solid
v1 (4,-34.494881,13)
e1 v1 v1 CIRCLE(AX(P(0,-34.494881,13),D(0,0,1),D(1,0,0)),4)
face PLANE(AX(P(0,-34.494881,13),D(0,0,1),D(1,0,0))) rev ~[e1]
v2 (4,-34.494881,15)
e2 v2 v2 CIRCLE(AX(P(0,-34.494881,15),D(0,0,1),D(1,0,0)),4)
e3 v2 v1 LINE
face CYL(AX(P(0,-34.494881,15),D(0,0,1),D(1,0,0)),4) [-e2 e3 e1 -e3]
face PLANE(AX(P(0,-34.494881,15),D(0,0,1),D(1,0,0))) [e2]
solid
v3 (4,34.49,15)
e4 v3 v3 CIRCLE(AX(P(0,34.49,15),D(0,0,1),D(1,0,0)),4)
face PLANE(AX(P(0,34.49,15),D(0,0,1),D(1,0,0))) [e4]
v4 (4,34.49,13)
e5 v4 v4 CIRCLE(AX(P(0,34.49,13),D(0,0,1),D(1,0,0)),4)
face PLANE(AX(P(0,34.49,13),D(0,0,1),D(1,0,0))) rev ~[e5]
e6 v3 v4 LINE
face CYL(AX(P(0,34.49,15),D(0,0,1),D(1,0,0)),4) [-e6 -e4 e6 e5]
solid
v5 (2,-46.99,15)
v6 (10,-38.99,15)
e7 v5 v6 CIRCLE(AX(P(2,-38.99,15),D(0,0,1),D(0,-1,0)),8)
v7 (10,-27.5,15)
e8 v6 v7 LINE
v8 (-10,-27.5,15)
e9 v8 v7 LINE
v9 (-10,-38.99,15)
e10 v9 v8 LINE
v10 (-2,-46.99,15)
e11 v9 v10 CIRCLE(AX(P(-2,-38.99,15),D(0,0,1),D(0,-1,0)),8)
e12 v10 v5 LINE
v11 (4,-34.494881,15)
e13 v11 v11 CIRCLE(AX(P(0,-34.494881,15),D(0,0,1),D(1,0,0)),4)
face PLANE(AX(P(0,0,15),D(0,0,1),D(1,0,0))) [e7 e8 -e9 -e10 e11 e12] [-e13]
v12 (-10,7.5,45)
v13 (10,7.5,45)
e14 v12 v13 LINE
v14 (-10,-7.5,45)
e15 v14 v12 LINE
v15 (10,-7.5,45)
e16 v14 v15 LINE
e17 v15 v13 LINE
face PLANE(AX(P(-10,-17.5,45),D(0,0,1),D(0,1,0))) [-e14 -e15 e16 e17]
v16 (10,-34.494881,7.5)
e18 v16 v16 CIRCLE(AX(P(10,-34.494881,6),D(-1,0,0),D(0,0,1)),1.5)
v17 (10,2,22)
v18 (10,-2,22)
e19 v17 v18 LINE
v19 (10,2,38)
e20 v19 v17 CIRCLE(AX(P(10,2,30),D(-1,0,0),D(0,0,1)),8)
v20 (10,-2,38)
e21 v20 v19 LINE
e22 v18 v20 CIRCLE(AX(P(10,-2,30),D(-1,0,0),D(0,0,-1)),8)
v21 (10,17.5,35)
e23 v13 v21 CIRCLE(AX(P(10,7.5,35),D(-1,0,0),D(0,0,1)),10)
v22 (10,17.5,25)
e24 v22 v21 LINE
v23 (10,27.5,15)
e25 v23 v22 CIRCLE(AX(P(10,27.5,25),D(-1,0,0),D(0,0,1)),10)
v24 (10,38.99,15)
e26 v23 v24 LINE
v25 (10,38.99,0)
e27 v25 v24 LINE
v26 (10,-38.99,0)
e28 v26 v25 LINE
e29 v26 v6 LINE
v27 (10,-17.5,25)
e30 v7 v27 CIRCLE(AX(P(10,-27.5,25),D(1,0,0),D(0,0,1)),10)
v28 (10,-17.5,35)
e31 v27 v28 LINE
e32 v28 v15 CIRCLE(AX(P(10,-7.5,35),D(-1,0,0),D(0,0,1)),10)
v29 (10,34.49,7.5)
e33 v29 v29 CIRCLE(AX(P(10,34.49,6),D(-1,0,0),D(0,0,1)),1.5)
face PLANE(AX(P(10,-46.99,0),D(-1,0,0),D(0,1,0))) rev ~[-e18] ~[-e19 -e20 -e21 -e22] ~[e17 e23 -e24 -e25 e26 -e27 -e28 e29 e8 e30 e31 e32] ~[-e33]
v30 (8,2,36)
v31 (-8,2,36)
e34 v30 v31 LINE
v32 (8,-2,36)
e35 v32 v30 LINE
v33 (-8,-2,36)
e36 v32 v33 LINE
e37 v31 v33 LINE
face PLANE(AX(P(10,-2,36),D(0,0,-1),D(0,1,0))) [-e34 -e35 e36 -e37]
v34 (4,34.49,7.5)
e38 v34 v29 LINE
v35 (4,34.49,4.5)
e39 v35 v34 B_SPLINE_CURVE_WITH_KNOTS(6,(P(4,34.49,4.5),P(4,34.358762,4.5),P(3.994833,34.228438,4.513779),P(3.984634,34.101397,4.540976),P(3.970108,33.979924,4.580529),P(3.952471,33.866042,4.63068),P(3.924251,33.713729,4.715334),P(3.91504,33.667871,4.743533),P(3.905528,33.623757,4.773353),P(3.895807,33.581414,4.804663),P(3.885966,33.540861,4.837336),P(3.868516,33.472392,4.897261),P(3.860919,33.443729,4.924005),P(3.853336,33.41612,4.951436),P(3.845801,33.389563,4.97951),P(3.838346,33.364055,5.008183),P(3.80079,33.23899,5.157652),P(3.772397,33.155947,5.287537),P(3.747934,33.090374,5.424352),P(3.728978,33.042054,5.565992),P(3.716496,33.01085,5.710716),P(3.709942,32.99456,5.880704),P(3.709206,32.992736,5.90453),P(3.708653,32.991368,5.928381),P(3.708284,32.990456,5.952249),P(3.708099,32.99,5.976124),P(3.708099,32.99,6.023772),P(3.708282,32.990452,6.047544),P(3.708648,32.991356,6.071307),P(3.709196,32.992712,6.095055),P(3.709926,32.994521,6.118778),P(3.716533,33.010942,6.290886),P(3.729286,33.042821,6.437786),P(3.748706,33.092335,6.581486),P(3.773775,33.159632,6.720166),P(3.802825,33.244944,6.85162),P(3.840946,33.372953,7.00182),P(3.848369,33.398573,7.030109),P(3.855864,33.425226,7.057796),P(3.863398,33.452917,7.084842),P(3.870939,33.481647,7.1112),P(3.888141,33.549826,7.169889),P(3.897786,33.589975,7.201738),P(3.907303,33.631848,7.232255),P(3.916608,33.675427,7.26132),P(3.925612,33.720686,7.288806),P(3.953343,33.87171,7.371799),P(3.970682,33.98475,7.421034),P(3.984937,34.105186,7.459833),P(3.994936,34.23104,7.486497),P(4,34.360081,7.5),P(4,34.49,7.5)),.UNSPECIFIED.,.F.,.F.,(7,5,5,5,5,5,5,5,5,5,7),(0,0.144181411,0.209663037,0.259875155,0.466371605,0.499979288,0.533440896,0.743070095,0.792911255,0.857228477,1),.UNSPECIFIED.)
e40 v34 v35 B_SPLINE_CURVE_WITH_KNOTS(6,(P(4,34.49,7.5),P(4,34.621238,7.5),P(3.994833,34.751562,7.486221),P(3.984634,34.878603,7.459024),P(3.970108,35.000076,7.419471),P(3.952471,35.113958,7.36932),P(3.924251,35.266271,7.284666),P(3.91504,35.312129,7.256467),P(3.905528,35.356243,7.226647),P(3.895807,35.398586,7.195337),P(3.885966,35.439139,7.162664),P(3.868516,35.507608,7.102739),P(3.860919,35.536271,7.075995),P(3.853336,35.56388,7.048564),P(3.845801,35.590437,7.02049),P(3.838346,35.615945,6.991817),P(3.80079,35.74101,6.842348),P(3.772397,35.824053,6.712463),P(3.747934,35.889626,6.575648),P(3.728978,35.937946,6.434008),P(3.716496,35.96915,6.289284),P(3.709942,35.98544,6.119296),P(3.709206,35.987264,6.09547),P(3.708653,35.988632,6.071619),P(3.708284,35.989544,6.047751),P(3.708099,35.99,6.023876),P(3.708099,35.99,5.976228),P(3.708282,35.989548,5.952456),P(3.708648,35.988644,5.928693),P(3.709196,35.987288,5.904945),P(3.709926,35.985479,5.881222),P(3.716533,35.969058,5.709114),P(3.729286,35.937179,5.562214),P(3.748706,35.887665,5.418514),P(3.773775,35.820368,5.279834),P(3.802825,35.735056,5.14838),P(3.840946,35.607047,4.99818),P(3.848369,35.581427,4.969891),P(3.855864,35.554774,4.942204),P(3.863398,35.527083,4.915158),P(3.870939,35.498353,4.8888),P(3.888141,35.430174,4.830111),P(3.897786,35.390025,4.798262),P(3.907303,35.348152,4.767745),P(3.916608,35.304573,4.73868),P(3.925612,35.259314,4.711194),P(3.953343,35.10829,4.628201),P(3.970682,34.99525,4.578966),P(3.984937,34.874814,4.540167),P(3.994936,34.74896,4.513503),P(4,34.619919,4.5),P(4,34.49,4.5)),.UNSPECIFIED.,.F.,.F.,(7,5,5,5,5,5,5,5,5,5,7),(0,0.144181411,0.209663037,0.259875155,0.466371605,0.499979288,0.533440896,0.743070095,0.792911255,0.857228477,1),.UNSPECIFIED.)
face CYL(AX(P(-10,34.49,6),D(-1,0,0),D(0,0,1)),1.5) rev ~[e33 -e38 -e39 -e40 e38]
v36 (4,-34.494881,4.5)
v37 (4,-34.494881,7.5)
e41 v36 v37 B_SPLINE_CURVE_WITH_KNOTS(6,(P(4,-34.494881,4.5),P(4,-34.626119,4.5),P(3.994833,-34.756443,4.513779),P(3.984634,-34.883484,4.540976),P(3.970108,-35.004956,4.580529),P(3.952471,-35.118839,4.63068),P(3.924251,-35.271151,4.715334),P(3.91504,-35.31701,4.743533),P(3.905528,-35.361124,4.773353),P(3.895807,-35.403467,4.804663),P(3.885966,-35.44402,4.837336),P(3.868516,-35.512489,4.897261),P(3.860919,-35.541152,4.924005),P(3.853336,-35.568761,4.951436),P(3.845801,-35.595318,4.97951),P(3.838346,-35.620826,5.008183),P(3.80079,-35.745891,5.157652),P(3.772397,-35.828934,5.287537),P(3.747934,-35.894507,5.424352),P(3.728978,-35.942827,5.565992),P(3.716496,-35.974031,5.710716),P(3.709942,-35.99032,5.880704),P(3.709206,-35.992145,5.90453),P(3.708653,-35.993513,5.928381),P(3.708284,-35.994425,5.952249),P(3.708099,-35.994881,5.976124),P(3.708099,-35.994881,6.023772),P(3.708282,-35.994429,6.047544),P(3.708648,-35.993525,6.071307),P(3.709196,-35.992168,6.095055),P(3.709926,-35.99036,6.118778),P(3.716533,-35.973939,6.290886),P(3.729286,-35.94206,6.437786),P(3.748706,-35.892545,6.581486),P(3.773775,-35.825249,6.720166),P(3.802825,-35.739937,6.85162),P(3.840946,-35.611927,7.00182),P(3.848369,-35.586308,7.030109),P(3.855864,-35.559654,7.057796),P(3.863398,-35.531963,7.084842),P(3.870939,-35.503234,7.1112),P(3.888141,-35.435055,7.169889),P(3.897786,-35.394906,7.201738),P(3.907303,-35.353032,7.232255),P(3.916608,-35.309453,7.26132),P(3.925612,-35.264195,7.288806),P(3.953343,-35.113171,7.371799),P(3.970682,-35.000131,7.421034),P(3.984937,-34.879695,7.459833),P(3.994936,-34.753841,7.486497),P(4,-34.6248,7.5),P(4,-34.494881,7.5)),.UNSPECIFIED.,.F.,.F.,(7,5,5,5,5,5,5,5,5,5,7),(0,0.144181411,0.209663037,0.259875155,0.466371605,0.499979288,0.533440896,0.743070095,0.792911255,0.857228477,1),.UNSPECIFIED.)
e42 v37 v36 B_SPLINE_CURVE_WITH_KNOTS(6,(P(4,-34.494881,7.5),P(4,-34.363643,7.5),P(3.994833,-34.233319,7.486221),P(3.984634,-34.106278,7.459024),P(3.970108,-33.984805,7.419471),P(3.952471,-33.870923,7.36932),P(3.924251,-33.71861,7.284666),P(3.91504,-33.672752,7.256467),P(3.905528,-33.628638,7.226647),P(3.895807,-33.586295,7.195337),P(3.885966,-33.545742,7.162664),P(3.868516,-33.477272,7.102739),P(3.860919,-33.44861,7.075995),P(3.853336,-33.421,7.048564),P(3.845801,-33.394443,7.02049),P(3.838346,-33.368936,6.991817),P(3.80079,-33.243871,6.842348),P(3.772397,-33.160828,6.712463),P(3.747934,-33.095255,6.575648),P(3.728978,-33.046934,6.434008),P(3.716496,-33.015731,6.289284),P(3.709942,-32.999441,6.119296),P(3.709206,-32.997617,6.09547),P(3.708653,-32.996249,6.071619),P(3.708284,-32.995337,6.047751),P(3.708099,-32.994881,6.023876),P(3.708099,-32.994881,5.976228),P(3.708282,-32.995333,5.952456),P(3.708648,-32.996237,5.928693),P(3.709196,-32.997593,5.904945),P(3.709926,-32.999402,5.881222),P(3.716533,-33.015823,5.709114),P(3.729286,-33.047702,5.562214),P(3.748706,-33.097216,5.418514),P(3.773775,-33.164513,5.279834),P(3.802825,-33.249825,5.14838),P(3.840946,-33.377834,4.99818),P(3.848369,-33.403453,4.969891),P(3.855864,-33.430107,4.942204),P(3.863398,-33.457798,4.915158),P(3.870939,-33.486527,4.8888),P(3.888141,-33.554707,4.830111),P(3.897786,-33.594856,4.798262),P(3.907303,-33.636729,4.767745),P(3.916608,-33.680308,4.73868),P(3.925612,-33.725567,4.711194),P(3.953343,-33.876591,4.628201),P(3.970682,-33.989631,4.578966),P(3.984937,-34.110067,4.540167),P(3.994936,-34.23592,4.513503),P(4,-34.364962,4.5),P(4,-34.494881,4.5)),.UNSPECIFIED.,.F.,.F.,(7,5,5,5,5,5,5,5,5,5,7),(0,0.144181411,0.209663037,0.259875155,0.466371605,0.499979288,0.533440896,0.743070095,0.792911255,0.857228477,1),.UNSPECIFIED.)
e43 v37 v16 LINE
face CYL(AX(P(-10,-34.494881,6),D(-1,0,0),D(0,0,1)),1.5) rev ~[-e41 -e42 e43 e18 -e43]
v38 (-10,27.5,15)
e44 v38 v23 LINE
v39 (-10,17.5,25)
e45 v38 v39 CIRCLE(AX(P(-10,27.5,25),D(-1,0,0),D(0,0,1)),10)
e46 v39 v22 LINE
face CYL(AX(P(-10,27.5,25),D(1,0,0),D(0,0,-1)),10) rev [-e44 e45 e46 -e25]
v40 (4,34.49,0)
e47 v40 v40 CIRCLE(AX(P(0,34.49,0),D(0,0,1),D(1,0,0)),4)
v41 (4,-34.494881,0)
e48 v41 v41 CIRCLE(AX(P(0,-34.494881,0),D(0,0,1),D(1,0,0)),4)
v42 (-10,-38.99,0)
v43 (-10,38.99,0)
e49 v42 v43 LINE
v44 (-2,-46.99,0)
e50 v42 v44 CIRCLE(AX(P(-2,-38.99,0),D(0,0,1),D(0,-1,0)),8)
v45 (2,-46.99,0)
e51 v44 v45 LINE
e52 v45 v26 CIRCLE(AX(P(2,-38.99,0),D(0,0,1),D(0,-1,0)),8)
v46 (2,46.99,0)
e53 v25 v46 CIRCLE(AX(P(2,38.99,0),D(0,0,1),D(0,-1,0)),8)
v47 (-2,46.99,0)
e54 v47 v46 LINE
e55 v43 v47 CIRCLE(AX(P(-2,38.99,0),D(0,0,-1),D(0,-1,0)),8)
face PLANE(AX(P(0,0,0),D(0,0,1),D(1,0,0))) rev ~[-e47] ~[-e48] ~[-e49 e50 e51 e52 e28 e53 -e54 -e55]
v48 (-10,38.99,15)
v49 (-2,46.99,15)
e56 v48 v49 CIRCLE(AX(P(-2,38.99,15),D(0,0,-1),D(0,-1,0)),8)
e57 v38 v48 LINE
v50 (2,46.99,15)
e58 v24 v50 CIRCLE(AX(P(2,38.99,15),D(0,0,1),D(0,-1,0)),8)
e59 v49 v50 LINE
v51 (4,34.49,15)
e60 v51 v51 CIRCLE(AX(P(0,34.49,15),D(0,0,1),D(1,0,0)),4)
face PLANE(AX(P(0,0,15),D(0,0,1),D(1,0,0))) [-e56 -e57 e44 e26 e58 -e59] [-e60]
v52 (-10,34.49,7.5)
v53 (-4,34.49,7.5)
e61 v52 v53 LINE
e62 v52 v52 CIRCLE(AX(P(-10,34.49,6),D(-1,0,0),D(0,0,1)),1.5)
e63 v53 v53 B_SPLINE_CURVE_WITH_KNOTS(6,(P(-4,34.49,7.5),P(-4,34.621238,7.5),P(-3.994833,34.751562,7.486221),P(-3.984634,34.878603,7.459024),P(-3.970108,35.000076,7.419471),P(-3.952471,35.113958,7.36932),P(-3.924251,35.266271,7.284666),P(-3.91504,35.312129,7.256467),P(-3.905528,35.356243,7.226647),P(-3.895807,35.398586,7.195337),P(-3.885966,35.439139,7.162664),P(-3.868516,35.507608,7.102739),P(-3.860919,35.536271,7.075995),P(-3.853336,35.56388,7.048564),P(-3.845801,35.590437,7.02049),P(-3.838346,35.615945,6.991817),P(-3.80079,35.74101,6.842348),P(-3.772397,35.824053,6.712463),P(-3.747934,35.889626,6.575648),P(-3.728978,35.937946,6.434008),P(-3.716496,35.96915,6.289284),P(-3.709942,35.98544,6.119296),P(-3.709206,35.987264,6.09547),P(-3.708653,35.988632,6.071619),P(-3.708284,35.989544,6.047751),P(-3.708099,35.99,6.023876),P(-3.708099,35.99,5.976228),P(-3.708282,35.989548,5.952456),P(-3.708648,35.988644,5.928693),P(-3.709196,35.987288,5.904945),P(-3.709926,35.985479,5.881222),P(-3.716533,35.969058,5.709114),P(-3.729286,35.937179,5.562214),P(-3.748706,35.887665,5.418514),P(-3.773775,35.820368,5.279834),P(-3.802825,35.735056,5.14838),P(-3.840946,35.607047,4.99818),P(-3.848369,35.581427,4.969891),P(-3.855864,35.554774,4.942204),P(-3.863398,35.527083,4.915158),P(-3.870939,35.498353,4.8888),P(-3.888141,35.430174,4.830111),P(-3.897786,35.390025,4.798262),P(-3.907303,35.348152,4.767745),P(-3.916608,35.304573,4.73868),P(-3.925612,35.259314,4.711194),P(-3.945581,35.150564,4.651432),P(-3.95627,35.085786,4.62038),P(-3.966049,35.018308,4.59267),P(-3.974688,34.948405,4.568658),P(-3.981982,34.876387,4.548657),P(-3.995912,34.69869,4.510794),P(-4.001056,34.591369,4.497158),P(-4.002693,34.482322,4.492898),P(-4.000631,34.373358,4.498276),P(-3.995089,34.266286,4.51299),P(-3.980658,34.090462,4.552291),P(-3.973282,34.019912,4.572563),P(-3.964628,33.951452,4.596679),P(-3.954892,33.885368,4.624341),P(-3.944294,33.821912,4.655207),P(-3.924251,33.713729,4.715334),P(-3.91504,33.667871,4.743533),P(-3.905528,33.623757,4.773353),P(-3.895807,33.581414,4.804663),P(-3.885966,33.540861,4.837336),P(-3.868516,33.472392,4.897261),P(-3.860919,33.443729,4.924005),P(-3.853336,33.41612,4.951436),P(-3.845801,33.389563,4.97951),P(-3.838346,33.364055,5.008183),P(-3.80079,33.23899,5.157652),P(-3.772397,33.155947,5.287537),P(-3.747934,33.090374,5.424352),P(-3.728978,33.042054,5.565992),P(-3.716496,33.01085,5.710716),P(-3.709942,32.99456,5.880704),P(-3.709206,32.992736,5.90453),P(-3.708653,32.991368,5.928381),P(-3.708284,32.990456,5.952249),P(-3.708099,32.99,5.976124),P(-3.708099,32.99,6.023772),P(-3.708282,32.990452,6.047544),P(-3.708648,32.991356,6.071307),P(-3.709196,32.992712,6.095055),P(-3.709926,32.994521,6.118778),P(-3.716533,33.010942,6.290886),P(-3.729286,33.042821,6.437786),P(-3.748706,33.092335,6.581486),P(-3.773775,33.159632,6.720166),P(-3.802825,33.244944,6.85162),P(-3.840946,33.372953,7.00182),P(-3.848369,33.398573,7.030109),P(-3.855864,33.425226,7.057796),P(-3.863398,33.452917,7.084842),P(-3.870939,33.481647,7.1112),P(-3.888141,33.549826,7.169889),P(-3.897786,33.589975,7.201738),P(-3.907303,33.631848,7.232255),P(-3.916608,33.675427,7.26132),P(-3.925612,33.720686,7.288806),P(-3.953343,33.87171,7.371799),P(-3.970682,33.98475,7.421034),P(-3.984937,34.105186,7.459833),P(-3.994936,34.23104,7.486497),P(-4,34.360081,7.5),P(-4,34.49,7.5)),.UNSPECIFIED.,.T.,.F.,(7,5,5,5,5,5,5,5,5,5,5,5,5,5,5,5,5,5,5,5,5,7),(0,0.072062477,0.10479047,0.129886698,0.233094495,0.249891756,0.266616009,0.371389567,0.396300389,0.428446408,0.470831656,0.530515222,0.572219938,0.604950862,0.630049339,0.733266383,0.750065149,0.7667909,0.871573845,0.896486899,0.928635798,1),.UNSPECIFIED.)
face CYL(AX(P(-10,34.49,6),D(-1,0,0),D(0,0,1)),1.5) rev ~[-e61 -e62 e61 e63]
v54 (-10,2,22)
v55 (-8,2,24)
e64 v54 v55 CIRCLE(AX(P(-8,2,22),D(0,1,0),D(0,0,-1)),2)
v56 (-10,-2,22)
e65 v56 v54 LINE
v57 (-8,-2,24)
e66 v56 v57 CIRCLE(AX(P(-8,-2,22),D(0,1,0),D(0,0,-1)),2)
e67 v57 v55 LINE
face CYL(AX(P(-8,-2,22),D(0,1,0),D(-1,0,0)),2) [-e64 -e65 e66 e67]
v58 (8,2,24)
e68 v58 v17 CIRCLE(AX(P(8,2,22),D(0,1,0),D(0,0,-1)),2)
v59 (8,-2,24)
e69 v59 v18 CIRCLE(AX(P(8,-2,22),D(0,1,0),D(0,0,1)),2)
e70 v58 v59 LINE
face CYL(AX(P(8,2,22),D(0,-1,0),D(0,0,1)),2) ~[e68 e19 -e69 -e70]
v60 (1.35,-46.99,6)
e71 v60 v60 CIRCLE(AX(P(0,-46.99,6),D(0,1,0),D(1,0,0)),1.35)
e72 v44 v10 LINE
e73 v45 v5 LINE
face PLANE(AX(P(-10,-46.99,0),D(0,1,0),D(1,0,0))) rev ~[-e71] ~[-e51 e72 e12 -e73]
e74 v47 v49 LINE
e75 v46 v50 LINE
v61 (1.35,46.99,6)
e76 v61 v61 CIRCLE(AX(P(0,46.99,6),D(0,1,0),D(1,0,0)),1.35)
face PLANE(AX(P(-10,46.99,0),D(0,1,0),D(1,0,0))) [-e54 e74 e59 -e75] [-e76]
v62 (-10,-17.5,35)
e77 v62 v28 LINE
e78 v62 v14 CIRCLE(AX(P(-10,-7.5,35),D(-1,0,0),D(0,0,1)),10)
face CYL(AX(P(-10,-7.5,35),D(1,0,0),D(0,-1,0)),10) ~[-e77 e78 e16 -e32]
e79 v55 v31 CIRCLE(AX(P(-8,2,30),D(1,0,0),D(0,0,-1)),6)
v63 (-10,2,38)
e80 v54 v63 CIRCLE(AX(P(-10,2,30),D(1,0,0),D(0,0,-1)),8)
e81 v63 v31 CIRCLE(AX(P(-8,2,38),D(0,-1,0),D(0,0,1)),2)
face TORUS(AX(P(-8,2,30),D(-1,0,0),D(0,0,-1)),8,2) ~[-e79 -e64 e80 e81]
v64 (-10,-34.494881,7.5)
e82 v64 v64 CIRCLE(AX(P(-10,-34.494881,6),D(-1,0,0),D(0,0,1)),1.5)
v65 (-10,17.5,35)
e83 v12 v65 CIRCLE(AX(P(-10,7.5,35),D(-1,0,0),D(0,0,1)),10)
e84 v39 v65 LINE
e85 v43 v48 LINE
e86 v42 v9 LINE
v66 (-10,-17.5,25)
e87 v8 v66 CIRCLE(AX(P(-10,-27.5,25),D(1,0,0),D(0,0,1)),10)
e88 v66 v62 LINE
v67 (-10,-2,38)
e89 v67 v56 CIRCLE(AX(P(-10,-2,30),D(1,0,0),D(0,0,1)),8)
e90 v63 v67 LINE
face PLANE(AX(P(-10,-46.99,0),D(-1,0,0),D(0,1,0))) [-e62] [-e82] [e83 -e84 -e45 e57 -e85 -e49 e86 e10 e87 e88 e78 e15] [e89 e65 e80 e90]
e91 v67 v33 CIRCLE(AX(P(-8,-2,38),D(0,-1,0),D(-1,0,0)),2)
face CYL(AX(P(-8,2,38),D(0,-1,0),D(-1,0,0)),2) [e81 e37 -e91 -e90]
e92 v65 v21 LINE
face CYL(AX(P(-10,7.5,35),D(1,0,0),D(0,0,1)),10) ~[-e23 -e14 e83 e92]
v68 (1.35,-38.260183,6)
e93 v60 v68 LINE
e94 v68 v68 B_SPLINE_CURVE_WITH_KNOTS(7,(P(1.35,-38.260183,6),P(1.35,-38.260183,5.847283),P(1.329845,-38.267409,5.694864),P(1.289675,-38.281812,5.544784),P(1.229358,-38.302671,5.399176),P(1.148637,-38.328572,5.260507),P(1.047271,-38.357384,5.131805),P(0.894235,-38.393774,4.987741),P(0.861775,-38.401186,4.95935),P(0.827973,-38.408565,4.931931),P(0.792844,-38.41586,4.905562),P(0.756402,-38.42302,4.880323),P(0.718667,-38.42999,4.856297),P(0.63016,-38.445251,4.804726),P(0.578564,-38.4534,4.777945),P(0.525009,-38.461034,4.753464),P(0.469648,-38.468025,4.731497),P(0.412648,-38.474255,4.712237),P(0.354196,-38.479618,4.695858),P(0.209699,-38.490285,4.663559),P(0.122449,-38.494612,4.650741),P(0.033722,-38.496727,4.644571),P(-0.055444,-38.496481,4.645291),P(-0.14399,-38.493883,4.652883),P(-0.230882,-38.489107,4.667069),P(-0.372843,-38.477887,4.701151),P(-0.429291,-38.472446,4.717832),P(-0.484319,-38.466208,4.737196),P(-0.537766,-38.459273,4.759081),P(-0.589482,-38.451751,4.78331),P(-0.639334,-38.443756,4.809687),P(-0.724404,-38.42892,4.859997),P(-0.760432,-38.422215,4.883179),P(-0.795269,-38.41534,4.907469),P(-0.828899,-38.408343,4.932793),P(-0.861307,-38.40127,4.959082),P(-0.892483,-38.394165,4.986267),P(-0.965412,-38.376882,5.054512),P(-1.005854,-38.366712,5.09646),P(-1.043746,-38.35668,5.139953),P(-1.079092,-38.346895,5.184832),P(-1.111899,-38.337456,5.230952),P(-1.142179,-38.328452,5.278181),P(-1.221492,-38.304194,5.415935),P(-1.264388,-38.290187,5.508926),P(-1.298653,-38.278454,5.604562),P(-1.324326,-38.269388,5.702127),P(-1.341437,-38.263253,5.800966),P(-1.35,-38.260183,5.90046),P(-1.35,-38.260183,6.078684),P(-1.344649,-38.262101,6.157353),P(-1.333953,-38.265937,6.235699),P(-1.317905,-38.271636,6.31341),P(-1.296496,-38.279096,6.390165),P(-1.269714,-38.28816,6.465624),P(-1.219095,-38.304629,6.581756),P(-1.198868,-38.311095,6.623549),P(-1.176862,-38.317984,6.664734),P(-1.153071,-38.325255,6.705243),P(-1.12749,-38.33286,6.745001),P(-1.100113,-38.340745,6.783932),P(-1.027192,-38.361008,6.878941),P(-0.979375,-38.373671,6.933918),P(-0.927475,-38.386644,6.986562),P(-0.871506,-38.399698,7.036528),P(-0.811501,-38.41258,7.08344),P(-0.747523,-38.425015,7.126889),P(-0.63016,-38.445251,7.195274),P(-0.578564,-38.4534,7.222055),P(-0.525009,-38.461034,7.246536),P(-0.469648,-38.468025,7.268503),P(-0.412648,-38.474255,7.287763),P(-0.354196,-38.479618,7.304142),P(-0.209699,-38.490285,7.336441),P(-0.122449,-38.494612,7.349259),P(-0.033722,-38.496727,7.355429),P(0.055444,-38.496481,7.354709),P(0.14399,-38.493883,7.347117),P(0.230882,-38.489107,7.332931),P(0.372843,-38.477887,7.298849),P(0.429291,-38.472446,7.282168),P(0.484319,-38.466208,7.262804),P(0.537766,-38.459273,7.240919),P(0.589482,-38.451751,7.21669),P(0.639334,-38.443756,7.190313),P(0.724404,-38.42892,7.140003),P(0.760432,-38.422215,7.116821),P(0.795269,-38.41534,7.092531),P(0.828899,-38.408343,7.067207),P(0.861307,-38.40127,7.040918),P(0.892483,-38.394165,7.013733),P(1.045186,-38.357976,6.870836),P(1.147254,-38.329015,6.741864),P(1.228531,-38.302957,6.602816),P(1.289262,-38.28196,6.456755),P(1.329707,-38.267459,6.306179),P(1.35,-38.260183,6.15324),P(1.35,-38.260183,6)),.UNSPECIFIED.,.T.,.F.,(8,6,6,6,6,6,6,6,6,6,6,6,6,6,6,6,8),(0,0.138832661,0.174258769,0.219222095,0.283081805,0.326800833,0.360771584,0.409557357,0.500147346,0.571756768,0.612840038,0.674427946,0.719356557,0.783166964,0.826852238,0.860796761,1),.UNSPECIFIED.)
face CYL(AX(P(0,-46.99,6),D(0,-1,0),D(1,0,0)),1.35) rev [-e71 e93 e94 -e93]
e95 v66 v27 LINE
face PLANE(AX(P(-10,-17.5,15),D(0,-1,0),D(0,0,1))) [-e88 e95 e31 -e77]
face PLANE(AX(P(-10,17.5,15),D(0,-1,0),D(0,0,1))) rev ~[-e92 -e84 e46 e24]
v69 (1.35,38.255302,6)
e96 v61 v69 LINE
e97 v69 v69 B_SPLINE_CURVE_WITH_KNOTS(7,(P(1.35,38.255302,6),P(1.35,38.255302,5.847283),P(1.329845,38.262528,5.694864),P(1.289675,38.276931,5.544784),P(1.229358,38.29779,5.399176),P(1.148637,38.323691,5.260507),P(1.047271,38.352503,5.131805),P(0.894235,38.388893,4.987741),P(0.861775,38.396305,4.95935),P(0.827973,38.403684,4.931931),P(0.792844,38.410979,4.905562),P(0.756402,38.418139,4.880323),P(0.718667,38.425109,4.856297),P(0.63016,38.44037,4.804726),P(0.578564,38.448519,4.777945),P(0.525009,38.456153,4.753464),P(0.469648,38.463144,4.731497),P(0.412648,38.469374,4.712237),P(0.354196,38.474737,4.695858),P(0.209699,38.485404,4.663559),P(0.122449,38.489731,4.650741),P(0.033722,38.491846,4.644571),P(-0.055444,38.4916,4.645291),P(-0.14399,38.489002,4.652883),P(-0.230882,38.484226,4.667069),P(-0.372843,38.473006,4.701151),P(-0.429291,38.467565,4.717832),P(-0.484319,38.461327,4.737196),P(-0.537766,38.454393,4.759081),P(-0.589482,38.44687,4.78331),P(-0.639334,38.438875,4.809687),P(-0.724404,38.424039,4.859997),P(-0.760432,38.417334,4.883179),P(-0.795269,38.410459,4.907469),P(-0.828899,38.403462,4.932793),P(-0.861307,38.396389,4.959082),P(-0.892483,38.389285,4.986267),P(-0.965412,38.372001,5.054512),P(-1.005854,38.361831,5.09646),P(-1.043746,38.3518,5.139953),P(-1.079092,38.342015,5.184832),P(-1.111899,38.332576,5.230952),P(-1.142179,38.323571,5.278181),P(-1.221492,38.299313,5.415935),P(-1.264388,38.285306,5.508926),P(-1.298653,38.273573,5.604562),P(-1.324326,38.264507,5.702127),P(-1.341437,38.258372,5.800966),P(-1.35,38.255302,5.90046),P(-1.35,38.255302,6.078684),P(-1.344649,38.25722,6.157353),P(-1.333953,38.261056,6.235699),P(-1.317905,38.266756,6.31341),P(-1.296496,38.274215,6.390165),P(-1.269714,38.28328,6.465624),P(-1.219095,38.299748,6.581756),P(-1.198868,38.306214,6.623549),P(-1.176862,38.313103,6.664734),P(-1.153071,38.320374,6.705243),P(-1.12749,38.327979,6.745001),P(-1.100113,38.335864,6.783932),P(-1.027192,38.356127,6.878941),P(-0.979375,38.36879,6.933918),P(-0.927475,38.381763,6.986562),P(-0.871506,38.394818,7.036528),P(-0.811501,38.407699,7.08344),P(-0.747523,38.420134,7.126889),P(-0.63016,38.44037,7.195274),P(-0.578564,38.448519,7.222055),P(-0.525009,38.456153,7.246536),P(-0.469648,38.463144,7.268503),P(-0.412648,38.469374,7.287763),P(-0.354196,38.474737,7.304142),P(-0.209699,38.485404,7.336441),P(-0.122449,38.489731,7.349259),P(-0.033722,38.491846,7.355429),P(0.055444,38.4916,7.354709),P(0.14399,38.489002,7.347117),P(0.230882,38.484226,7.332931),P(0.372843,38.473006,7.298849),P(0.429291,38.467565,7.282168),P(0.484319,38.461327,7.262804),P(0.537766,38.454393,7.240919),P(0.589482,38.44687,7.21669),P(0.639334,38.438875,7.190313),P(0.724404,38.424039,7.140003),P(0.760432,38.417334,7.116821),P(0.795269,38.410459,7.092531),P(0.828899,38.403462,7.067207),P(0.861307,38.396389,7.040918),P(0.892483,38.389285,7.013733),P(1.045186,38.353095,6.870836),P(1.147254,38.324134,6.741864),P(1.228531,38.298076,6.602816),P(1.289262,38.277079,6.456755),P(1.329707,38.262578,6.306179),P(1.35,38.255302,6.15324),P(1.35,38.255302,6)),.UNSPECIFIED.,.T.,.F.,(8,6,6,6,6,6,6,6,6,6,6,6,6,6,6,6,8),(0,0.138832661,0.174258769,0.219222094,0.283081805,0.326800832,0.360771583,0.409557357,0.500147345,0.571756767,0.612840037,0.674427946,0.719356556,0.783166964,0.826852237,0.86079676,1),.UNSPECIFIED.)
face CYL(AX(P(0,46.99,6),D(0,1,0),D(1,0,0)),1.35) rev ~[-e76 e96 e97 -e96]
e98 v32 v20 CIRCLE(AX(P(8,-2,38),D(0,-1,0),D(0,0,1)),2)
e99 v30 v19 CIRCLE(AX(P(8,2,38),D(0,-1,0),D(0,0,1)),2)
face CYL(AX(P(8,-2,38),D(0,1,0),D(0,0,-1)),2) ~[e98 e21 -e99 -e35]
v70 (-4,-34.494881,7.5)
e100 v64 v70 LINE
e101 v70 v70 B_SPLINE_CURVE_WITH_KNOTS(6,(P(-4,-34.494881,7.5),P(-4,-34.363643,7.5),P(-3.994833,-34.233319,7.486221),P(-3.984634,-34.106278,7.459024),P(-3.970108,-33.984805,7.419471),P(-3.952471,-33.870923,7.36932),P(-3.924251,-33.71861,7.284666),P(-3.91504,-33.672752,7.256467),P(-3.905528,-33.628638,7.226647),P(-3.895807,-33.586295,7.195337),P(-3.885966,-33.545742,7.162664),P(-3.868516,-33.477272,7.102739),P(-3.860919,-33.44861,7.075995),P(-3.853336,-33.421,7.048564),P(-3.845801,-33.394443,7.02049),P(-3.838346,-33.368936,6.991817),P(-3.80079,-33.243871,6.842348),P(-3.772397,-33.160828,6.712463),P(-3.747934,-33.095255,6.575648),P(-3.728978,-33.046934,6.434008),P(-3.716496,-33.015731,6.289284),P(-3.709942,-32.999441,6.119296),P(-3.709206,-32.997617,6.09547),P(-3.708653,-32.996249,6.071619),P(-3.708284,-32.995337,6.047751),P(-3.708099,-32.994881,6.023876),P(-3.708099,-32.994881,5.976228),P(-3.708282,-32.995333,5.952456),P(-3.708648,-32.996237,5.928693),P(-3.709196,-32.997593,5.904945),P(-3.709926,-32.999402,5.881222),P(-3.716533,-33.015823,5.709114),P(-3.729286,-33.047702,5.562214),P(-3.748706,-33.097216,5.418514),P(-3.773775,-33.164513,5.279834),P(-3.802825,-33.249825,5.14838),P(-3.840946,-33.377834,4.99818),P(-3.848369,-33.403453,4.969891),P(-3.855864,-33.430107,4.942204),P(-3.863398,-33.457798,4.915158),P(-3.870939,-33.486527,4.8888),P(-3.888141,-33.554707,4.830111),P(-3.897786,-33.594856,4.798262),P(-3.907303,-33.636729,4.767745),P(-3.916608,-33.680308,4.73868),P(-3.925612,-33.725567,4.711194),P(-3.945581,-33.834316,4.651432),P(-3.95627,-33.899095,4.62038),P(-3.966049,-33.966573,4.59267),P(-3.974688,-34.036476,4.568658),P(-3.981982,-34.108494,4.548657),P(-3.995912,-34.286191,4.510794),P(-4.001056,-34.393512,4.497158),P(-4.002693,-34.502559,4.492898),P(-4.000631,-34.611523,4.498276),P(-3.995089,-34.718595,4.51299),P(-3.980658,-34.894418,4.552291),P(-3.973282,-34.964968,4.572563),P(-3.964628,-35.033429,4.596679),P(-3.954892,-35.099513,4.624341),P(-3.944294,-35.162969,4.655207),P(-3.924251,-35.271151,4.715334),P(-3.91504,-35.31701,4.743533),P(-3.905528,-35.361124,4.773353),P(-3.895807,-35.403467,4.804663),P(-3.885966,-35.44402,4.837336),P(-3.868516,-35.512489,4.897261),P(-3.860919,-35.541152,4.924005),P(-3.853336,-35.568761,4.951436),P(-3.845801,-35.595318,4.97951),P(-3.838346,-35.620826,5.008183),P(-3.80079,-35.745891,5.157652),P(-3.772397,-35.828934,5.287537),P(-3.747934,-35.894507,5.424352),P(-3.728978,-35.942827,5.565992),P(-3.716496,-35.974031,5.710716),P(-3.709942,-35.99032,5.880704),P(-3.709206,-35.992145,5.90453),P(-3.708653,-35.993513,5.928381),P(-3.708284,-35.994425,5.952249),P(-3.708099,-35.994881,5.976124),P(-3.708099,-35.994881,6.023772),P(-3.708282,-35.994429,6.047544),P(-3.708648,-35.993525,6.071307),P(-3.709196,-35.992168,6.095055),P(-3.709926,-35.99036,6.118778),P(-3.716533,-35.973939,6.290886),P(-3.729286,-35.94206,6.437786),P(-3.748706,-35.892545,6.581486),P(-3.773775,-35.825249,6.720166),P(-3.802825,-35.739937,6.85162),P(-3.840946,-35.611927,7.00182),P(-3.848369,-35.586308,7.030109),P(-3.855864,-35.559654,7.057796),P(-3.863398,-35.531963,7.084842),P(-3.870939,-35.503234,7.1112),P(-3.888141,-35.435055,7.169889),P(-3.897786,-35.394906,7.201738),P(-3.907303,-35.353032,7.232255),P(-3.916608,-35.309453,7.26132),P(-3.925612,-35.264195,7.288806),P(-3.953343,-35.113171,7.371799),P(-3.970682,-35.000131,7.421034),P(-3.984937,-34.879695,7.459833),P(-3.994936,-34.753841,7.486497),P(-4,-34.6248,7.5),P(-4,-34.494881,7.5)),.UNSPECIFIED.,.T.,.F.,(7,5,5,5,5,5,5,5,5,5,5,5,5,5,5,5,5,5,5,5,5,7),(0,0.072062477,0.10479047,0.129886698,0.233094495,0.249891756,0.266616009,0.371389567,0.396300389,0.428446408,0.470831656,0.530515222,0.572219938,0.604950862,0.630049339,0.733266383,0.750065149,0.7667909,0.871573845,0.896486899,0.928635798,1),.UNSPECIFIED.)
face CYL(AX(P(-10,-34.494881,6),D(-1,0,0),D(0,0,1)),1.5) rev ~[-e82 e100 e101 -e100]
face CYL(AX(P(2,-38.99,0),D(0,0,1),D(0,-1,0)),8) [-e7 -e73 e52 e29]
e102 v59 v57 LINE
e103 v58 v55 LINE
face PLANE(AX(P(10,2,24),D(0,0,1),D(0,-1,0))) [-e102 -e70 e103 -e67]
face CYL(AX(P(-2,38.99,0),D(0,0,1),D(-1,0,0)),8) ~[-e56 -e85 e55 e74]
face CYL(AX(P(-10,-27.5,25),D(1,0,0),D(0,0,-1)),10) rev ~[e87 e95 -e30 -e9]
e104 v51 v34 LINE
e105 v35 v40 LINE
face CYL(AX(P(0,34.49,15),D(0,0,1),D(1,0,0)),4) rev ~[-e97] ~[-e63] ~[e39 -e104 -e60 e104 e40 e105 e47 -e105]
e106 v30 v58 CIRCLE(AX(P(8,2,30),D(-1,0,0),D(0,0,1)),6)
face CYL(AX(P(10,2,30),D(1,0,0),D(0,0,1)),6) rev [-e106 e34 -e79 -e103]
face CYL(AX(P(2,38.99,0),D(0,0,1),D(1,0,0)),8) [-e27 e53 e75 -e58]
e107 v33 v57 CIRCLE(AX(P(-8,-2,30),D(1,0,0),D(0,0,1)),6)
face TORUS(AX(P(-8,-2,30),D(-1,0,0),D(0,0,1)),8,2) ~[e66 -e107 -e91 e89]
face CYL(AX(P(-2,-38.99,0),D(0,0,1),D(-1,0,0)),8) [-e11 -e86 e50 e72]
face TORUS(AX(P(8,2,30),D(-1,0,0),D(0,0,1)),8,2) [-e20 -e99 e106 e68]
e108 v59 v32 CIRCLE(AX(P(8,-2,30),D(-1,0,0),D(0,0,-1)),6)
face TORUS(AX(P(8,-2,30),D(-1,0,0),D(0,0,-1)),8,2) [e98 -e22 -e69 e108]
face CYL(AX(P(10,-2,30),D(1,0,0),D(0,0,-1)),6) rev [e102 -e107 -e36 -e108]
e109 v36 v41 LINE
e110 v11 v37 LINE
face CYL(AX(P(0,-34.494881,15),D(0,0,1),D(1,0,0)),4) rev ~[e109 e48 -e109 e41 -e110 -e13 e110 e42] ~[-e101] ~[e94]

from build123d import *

# Parameters (mm, degrees)
SKETCH1_W             = 20
SKETCH1_H             = 93.98
BOSS_EXTRUDE1_DEPTH   = 15
FILLET1_R             = 8
SKETCH2_R             = 4
CUT_EXTRUDE1_DEPTH    = 16
SKETCH3_R             = 1.5
CUT_EXTRUDE2_DEPTH    = 21
SKETCH4_W             = 30
SKETCH4_H             = 35
BOSS_EXTRUDE2_DEPTH   = 20
FILLET2_R             = 10
CUT_EXTRUDE3_DEPTH    = 21.0000001
FILLET3_R             = 2
SKETCH6_R             = 1.35
CUT_EXTRUDE4_DEPTH    = 10
SKETCH7_R             = 4
BOSS_EXTRUDE3_DEPTH   = 2
BOSS_EXTRUDE3_2_DEPTH = 2


with BuildPart() as part:
    # Sketch1 → Boss-Extrude1 (new body)
    with BuildSketch(Plane.XY):
        Rectangle(SKETCH1_W, SKETCH1_H)
    extrude(amount=BOSS_EXTRUDE1_DEPTH)

    # Fillet1
    fillet1_edges = [part.edges().sort_by_distance(p)[0] for p in [
        (10, -46.99, 7.5),
        (-10, -46.99, 7.5),
        (-10, 46.99, 7.5),
        (10, 46.99, 7.5),
    ]]
    fillet(fillet1_edges, radius=FILLET1_R)

    # Sketch2 → Cut-Extrude1 (cut, through all)
    with BuildSketch(Plane.XY.offset(15)):
        with Locations((0, 34.49)):
            Circle(SKETCH2_R)
        with Locations((0, -34.494880812)):
            Circle(SKETCH2_R)
    extrude(amount=-CUT_EXTRUDE1_DEPTH, mode=Mode.SUBTRACT)

    # Sketch3 → Cut-Extrude2 (cut, through all)
    with BuildSketch(Plane.ZY.offset(10)):
        with Locations((6, 34.49)):
            Circle(SKETCH3_R)
        with Locations((6, -34.494880812)):
            Circle(SKETCH3_R)
    extrude(amount=-CUT_EXTRUDE2_DEPTH, mode=Mode.SUBTRACT)

    # Sketch4 → Boss-Extrude2 (add)
    with BuildSketch(Plane.ZY.offset(10)):
        with Locations((30, 0)):
            Rectangle(SKETCH4_W, SKETCH4_H)
    extrude(amount=-BOSS_EXTRUDE2_DEPTH)

    # Fillet2
    fillet2_edges = [part.edges().sort_by_distance(p)[0] for p in [
        (0, -17.5, 15),
        (0, 17.5, 15),
        (0, 17.5, 45),
        (0, -17.5, 45),
    ]]
    fillet(fillet2_edges, radius=FILLET2_R)

    # Sketch5 → Cut-Extrude3 (cut, through all)
    with BuildSketch(Plane(origin=(10, 0, 0), x_dir=(0, 0, -1), z_dir=(1, 0, 0))):
        with BuildLine():
            Line((-24, 2), (-24, -2))
            ThreePointArc((-24, -2), (-30, -8), (-36, -2))
            Line((-36, -2), (-36, 2))
            ThreePointArc((-36, 2), (-30, 8), (-24, 2))
        make_face()
    extrude(amount=-CUT_EXTRUDE3_DEPTH, mode=Mode.SUBTRACT)

    # Fillet3
    fillet3_edges = [part.edges().sort_by_distance(p)[0] for p in [
        (-10, 8, 30),
        (-10, 0, 24),
        (-10, -8, 30),
        (-10, 0, 36),
        (10, 8, 30),
        (10, 0, 36),
        (10, -8, 30),
        (10, 0, 24),
    ]]
    fillet(fillet3_edges, radius=FILLET3_R)

    # Sketch6 → Cut-Extrude4 (cut)
    with BuildSketch(Plane(origin=(0, 46.99, 0), x_dir=(1, 0, 0), z_dir=(0, 1, 0))):
        with Locations((0, -6)):
            Circle(SKETCH6_R)
    cut_extrude4 = extrude(amount=-CUT_EXTRUDE4_DEPTH, mode=Mode.SUBTRACT)

    # Mirror1: Cut-Extrude4 across plane
    add(cut_extrude4.mirror(Plane.ZX), mode=Mode.SUBTRACT)


with BuildPart() as body_2:
    # Sketch7 → Boss-Extrude3 (new body)
    with BuildSketch(Plane.XY.offset(15)):
        with Locations((0, 34.49)):
            Circle(SKETCH7_R)
    extrude(amount=-BOSS_EXTRUDE3_DEPTH)


with BuildPart() as body_3:
    # Sketch7 → Boss-Extrude3 2 (new body)
    with BuildSketch(Plane.XY.offset(15)):
        with Locations((0, -34.494880812)):
            Circle(SKETCH7_R)
    extrude(amount=-BOSS_EXTRUDE3_2_DEPTH)


solid = Compound([part.part, body_2.part, body_3.part])
